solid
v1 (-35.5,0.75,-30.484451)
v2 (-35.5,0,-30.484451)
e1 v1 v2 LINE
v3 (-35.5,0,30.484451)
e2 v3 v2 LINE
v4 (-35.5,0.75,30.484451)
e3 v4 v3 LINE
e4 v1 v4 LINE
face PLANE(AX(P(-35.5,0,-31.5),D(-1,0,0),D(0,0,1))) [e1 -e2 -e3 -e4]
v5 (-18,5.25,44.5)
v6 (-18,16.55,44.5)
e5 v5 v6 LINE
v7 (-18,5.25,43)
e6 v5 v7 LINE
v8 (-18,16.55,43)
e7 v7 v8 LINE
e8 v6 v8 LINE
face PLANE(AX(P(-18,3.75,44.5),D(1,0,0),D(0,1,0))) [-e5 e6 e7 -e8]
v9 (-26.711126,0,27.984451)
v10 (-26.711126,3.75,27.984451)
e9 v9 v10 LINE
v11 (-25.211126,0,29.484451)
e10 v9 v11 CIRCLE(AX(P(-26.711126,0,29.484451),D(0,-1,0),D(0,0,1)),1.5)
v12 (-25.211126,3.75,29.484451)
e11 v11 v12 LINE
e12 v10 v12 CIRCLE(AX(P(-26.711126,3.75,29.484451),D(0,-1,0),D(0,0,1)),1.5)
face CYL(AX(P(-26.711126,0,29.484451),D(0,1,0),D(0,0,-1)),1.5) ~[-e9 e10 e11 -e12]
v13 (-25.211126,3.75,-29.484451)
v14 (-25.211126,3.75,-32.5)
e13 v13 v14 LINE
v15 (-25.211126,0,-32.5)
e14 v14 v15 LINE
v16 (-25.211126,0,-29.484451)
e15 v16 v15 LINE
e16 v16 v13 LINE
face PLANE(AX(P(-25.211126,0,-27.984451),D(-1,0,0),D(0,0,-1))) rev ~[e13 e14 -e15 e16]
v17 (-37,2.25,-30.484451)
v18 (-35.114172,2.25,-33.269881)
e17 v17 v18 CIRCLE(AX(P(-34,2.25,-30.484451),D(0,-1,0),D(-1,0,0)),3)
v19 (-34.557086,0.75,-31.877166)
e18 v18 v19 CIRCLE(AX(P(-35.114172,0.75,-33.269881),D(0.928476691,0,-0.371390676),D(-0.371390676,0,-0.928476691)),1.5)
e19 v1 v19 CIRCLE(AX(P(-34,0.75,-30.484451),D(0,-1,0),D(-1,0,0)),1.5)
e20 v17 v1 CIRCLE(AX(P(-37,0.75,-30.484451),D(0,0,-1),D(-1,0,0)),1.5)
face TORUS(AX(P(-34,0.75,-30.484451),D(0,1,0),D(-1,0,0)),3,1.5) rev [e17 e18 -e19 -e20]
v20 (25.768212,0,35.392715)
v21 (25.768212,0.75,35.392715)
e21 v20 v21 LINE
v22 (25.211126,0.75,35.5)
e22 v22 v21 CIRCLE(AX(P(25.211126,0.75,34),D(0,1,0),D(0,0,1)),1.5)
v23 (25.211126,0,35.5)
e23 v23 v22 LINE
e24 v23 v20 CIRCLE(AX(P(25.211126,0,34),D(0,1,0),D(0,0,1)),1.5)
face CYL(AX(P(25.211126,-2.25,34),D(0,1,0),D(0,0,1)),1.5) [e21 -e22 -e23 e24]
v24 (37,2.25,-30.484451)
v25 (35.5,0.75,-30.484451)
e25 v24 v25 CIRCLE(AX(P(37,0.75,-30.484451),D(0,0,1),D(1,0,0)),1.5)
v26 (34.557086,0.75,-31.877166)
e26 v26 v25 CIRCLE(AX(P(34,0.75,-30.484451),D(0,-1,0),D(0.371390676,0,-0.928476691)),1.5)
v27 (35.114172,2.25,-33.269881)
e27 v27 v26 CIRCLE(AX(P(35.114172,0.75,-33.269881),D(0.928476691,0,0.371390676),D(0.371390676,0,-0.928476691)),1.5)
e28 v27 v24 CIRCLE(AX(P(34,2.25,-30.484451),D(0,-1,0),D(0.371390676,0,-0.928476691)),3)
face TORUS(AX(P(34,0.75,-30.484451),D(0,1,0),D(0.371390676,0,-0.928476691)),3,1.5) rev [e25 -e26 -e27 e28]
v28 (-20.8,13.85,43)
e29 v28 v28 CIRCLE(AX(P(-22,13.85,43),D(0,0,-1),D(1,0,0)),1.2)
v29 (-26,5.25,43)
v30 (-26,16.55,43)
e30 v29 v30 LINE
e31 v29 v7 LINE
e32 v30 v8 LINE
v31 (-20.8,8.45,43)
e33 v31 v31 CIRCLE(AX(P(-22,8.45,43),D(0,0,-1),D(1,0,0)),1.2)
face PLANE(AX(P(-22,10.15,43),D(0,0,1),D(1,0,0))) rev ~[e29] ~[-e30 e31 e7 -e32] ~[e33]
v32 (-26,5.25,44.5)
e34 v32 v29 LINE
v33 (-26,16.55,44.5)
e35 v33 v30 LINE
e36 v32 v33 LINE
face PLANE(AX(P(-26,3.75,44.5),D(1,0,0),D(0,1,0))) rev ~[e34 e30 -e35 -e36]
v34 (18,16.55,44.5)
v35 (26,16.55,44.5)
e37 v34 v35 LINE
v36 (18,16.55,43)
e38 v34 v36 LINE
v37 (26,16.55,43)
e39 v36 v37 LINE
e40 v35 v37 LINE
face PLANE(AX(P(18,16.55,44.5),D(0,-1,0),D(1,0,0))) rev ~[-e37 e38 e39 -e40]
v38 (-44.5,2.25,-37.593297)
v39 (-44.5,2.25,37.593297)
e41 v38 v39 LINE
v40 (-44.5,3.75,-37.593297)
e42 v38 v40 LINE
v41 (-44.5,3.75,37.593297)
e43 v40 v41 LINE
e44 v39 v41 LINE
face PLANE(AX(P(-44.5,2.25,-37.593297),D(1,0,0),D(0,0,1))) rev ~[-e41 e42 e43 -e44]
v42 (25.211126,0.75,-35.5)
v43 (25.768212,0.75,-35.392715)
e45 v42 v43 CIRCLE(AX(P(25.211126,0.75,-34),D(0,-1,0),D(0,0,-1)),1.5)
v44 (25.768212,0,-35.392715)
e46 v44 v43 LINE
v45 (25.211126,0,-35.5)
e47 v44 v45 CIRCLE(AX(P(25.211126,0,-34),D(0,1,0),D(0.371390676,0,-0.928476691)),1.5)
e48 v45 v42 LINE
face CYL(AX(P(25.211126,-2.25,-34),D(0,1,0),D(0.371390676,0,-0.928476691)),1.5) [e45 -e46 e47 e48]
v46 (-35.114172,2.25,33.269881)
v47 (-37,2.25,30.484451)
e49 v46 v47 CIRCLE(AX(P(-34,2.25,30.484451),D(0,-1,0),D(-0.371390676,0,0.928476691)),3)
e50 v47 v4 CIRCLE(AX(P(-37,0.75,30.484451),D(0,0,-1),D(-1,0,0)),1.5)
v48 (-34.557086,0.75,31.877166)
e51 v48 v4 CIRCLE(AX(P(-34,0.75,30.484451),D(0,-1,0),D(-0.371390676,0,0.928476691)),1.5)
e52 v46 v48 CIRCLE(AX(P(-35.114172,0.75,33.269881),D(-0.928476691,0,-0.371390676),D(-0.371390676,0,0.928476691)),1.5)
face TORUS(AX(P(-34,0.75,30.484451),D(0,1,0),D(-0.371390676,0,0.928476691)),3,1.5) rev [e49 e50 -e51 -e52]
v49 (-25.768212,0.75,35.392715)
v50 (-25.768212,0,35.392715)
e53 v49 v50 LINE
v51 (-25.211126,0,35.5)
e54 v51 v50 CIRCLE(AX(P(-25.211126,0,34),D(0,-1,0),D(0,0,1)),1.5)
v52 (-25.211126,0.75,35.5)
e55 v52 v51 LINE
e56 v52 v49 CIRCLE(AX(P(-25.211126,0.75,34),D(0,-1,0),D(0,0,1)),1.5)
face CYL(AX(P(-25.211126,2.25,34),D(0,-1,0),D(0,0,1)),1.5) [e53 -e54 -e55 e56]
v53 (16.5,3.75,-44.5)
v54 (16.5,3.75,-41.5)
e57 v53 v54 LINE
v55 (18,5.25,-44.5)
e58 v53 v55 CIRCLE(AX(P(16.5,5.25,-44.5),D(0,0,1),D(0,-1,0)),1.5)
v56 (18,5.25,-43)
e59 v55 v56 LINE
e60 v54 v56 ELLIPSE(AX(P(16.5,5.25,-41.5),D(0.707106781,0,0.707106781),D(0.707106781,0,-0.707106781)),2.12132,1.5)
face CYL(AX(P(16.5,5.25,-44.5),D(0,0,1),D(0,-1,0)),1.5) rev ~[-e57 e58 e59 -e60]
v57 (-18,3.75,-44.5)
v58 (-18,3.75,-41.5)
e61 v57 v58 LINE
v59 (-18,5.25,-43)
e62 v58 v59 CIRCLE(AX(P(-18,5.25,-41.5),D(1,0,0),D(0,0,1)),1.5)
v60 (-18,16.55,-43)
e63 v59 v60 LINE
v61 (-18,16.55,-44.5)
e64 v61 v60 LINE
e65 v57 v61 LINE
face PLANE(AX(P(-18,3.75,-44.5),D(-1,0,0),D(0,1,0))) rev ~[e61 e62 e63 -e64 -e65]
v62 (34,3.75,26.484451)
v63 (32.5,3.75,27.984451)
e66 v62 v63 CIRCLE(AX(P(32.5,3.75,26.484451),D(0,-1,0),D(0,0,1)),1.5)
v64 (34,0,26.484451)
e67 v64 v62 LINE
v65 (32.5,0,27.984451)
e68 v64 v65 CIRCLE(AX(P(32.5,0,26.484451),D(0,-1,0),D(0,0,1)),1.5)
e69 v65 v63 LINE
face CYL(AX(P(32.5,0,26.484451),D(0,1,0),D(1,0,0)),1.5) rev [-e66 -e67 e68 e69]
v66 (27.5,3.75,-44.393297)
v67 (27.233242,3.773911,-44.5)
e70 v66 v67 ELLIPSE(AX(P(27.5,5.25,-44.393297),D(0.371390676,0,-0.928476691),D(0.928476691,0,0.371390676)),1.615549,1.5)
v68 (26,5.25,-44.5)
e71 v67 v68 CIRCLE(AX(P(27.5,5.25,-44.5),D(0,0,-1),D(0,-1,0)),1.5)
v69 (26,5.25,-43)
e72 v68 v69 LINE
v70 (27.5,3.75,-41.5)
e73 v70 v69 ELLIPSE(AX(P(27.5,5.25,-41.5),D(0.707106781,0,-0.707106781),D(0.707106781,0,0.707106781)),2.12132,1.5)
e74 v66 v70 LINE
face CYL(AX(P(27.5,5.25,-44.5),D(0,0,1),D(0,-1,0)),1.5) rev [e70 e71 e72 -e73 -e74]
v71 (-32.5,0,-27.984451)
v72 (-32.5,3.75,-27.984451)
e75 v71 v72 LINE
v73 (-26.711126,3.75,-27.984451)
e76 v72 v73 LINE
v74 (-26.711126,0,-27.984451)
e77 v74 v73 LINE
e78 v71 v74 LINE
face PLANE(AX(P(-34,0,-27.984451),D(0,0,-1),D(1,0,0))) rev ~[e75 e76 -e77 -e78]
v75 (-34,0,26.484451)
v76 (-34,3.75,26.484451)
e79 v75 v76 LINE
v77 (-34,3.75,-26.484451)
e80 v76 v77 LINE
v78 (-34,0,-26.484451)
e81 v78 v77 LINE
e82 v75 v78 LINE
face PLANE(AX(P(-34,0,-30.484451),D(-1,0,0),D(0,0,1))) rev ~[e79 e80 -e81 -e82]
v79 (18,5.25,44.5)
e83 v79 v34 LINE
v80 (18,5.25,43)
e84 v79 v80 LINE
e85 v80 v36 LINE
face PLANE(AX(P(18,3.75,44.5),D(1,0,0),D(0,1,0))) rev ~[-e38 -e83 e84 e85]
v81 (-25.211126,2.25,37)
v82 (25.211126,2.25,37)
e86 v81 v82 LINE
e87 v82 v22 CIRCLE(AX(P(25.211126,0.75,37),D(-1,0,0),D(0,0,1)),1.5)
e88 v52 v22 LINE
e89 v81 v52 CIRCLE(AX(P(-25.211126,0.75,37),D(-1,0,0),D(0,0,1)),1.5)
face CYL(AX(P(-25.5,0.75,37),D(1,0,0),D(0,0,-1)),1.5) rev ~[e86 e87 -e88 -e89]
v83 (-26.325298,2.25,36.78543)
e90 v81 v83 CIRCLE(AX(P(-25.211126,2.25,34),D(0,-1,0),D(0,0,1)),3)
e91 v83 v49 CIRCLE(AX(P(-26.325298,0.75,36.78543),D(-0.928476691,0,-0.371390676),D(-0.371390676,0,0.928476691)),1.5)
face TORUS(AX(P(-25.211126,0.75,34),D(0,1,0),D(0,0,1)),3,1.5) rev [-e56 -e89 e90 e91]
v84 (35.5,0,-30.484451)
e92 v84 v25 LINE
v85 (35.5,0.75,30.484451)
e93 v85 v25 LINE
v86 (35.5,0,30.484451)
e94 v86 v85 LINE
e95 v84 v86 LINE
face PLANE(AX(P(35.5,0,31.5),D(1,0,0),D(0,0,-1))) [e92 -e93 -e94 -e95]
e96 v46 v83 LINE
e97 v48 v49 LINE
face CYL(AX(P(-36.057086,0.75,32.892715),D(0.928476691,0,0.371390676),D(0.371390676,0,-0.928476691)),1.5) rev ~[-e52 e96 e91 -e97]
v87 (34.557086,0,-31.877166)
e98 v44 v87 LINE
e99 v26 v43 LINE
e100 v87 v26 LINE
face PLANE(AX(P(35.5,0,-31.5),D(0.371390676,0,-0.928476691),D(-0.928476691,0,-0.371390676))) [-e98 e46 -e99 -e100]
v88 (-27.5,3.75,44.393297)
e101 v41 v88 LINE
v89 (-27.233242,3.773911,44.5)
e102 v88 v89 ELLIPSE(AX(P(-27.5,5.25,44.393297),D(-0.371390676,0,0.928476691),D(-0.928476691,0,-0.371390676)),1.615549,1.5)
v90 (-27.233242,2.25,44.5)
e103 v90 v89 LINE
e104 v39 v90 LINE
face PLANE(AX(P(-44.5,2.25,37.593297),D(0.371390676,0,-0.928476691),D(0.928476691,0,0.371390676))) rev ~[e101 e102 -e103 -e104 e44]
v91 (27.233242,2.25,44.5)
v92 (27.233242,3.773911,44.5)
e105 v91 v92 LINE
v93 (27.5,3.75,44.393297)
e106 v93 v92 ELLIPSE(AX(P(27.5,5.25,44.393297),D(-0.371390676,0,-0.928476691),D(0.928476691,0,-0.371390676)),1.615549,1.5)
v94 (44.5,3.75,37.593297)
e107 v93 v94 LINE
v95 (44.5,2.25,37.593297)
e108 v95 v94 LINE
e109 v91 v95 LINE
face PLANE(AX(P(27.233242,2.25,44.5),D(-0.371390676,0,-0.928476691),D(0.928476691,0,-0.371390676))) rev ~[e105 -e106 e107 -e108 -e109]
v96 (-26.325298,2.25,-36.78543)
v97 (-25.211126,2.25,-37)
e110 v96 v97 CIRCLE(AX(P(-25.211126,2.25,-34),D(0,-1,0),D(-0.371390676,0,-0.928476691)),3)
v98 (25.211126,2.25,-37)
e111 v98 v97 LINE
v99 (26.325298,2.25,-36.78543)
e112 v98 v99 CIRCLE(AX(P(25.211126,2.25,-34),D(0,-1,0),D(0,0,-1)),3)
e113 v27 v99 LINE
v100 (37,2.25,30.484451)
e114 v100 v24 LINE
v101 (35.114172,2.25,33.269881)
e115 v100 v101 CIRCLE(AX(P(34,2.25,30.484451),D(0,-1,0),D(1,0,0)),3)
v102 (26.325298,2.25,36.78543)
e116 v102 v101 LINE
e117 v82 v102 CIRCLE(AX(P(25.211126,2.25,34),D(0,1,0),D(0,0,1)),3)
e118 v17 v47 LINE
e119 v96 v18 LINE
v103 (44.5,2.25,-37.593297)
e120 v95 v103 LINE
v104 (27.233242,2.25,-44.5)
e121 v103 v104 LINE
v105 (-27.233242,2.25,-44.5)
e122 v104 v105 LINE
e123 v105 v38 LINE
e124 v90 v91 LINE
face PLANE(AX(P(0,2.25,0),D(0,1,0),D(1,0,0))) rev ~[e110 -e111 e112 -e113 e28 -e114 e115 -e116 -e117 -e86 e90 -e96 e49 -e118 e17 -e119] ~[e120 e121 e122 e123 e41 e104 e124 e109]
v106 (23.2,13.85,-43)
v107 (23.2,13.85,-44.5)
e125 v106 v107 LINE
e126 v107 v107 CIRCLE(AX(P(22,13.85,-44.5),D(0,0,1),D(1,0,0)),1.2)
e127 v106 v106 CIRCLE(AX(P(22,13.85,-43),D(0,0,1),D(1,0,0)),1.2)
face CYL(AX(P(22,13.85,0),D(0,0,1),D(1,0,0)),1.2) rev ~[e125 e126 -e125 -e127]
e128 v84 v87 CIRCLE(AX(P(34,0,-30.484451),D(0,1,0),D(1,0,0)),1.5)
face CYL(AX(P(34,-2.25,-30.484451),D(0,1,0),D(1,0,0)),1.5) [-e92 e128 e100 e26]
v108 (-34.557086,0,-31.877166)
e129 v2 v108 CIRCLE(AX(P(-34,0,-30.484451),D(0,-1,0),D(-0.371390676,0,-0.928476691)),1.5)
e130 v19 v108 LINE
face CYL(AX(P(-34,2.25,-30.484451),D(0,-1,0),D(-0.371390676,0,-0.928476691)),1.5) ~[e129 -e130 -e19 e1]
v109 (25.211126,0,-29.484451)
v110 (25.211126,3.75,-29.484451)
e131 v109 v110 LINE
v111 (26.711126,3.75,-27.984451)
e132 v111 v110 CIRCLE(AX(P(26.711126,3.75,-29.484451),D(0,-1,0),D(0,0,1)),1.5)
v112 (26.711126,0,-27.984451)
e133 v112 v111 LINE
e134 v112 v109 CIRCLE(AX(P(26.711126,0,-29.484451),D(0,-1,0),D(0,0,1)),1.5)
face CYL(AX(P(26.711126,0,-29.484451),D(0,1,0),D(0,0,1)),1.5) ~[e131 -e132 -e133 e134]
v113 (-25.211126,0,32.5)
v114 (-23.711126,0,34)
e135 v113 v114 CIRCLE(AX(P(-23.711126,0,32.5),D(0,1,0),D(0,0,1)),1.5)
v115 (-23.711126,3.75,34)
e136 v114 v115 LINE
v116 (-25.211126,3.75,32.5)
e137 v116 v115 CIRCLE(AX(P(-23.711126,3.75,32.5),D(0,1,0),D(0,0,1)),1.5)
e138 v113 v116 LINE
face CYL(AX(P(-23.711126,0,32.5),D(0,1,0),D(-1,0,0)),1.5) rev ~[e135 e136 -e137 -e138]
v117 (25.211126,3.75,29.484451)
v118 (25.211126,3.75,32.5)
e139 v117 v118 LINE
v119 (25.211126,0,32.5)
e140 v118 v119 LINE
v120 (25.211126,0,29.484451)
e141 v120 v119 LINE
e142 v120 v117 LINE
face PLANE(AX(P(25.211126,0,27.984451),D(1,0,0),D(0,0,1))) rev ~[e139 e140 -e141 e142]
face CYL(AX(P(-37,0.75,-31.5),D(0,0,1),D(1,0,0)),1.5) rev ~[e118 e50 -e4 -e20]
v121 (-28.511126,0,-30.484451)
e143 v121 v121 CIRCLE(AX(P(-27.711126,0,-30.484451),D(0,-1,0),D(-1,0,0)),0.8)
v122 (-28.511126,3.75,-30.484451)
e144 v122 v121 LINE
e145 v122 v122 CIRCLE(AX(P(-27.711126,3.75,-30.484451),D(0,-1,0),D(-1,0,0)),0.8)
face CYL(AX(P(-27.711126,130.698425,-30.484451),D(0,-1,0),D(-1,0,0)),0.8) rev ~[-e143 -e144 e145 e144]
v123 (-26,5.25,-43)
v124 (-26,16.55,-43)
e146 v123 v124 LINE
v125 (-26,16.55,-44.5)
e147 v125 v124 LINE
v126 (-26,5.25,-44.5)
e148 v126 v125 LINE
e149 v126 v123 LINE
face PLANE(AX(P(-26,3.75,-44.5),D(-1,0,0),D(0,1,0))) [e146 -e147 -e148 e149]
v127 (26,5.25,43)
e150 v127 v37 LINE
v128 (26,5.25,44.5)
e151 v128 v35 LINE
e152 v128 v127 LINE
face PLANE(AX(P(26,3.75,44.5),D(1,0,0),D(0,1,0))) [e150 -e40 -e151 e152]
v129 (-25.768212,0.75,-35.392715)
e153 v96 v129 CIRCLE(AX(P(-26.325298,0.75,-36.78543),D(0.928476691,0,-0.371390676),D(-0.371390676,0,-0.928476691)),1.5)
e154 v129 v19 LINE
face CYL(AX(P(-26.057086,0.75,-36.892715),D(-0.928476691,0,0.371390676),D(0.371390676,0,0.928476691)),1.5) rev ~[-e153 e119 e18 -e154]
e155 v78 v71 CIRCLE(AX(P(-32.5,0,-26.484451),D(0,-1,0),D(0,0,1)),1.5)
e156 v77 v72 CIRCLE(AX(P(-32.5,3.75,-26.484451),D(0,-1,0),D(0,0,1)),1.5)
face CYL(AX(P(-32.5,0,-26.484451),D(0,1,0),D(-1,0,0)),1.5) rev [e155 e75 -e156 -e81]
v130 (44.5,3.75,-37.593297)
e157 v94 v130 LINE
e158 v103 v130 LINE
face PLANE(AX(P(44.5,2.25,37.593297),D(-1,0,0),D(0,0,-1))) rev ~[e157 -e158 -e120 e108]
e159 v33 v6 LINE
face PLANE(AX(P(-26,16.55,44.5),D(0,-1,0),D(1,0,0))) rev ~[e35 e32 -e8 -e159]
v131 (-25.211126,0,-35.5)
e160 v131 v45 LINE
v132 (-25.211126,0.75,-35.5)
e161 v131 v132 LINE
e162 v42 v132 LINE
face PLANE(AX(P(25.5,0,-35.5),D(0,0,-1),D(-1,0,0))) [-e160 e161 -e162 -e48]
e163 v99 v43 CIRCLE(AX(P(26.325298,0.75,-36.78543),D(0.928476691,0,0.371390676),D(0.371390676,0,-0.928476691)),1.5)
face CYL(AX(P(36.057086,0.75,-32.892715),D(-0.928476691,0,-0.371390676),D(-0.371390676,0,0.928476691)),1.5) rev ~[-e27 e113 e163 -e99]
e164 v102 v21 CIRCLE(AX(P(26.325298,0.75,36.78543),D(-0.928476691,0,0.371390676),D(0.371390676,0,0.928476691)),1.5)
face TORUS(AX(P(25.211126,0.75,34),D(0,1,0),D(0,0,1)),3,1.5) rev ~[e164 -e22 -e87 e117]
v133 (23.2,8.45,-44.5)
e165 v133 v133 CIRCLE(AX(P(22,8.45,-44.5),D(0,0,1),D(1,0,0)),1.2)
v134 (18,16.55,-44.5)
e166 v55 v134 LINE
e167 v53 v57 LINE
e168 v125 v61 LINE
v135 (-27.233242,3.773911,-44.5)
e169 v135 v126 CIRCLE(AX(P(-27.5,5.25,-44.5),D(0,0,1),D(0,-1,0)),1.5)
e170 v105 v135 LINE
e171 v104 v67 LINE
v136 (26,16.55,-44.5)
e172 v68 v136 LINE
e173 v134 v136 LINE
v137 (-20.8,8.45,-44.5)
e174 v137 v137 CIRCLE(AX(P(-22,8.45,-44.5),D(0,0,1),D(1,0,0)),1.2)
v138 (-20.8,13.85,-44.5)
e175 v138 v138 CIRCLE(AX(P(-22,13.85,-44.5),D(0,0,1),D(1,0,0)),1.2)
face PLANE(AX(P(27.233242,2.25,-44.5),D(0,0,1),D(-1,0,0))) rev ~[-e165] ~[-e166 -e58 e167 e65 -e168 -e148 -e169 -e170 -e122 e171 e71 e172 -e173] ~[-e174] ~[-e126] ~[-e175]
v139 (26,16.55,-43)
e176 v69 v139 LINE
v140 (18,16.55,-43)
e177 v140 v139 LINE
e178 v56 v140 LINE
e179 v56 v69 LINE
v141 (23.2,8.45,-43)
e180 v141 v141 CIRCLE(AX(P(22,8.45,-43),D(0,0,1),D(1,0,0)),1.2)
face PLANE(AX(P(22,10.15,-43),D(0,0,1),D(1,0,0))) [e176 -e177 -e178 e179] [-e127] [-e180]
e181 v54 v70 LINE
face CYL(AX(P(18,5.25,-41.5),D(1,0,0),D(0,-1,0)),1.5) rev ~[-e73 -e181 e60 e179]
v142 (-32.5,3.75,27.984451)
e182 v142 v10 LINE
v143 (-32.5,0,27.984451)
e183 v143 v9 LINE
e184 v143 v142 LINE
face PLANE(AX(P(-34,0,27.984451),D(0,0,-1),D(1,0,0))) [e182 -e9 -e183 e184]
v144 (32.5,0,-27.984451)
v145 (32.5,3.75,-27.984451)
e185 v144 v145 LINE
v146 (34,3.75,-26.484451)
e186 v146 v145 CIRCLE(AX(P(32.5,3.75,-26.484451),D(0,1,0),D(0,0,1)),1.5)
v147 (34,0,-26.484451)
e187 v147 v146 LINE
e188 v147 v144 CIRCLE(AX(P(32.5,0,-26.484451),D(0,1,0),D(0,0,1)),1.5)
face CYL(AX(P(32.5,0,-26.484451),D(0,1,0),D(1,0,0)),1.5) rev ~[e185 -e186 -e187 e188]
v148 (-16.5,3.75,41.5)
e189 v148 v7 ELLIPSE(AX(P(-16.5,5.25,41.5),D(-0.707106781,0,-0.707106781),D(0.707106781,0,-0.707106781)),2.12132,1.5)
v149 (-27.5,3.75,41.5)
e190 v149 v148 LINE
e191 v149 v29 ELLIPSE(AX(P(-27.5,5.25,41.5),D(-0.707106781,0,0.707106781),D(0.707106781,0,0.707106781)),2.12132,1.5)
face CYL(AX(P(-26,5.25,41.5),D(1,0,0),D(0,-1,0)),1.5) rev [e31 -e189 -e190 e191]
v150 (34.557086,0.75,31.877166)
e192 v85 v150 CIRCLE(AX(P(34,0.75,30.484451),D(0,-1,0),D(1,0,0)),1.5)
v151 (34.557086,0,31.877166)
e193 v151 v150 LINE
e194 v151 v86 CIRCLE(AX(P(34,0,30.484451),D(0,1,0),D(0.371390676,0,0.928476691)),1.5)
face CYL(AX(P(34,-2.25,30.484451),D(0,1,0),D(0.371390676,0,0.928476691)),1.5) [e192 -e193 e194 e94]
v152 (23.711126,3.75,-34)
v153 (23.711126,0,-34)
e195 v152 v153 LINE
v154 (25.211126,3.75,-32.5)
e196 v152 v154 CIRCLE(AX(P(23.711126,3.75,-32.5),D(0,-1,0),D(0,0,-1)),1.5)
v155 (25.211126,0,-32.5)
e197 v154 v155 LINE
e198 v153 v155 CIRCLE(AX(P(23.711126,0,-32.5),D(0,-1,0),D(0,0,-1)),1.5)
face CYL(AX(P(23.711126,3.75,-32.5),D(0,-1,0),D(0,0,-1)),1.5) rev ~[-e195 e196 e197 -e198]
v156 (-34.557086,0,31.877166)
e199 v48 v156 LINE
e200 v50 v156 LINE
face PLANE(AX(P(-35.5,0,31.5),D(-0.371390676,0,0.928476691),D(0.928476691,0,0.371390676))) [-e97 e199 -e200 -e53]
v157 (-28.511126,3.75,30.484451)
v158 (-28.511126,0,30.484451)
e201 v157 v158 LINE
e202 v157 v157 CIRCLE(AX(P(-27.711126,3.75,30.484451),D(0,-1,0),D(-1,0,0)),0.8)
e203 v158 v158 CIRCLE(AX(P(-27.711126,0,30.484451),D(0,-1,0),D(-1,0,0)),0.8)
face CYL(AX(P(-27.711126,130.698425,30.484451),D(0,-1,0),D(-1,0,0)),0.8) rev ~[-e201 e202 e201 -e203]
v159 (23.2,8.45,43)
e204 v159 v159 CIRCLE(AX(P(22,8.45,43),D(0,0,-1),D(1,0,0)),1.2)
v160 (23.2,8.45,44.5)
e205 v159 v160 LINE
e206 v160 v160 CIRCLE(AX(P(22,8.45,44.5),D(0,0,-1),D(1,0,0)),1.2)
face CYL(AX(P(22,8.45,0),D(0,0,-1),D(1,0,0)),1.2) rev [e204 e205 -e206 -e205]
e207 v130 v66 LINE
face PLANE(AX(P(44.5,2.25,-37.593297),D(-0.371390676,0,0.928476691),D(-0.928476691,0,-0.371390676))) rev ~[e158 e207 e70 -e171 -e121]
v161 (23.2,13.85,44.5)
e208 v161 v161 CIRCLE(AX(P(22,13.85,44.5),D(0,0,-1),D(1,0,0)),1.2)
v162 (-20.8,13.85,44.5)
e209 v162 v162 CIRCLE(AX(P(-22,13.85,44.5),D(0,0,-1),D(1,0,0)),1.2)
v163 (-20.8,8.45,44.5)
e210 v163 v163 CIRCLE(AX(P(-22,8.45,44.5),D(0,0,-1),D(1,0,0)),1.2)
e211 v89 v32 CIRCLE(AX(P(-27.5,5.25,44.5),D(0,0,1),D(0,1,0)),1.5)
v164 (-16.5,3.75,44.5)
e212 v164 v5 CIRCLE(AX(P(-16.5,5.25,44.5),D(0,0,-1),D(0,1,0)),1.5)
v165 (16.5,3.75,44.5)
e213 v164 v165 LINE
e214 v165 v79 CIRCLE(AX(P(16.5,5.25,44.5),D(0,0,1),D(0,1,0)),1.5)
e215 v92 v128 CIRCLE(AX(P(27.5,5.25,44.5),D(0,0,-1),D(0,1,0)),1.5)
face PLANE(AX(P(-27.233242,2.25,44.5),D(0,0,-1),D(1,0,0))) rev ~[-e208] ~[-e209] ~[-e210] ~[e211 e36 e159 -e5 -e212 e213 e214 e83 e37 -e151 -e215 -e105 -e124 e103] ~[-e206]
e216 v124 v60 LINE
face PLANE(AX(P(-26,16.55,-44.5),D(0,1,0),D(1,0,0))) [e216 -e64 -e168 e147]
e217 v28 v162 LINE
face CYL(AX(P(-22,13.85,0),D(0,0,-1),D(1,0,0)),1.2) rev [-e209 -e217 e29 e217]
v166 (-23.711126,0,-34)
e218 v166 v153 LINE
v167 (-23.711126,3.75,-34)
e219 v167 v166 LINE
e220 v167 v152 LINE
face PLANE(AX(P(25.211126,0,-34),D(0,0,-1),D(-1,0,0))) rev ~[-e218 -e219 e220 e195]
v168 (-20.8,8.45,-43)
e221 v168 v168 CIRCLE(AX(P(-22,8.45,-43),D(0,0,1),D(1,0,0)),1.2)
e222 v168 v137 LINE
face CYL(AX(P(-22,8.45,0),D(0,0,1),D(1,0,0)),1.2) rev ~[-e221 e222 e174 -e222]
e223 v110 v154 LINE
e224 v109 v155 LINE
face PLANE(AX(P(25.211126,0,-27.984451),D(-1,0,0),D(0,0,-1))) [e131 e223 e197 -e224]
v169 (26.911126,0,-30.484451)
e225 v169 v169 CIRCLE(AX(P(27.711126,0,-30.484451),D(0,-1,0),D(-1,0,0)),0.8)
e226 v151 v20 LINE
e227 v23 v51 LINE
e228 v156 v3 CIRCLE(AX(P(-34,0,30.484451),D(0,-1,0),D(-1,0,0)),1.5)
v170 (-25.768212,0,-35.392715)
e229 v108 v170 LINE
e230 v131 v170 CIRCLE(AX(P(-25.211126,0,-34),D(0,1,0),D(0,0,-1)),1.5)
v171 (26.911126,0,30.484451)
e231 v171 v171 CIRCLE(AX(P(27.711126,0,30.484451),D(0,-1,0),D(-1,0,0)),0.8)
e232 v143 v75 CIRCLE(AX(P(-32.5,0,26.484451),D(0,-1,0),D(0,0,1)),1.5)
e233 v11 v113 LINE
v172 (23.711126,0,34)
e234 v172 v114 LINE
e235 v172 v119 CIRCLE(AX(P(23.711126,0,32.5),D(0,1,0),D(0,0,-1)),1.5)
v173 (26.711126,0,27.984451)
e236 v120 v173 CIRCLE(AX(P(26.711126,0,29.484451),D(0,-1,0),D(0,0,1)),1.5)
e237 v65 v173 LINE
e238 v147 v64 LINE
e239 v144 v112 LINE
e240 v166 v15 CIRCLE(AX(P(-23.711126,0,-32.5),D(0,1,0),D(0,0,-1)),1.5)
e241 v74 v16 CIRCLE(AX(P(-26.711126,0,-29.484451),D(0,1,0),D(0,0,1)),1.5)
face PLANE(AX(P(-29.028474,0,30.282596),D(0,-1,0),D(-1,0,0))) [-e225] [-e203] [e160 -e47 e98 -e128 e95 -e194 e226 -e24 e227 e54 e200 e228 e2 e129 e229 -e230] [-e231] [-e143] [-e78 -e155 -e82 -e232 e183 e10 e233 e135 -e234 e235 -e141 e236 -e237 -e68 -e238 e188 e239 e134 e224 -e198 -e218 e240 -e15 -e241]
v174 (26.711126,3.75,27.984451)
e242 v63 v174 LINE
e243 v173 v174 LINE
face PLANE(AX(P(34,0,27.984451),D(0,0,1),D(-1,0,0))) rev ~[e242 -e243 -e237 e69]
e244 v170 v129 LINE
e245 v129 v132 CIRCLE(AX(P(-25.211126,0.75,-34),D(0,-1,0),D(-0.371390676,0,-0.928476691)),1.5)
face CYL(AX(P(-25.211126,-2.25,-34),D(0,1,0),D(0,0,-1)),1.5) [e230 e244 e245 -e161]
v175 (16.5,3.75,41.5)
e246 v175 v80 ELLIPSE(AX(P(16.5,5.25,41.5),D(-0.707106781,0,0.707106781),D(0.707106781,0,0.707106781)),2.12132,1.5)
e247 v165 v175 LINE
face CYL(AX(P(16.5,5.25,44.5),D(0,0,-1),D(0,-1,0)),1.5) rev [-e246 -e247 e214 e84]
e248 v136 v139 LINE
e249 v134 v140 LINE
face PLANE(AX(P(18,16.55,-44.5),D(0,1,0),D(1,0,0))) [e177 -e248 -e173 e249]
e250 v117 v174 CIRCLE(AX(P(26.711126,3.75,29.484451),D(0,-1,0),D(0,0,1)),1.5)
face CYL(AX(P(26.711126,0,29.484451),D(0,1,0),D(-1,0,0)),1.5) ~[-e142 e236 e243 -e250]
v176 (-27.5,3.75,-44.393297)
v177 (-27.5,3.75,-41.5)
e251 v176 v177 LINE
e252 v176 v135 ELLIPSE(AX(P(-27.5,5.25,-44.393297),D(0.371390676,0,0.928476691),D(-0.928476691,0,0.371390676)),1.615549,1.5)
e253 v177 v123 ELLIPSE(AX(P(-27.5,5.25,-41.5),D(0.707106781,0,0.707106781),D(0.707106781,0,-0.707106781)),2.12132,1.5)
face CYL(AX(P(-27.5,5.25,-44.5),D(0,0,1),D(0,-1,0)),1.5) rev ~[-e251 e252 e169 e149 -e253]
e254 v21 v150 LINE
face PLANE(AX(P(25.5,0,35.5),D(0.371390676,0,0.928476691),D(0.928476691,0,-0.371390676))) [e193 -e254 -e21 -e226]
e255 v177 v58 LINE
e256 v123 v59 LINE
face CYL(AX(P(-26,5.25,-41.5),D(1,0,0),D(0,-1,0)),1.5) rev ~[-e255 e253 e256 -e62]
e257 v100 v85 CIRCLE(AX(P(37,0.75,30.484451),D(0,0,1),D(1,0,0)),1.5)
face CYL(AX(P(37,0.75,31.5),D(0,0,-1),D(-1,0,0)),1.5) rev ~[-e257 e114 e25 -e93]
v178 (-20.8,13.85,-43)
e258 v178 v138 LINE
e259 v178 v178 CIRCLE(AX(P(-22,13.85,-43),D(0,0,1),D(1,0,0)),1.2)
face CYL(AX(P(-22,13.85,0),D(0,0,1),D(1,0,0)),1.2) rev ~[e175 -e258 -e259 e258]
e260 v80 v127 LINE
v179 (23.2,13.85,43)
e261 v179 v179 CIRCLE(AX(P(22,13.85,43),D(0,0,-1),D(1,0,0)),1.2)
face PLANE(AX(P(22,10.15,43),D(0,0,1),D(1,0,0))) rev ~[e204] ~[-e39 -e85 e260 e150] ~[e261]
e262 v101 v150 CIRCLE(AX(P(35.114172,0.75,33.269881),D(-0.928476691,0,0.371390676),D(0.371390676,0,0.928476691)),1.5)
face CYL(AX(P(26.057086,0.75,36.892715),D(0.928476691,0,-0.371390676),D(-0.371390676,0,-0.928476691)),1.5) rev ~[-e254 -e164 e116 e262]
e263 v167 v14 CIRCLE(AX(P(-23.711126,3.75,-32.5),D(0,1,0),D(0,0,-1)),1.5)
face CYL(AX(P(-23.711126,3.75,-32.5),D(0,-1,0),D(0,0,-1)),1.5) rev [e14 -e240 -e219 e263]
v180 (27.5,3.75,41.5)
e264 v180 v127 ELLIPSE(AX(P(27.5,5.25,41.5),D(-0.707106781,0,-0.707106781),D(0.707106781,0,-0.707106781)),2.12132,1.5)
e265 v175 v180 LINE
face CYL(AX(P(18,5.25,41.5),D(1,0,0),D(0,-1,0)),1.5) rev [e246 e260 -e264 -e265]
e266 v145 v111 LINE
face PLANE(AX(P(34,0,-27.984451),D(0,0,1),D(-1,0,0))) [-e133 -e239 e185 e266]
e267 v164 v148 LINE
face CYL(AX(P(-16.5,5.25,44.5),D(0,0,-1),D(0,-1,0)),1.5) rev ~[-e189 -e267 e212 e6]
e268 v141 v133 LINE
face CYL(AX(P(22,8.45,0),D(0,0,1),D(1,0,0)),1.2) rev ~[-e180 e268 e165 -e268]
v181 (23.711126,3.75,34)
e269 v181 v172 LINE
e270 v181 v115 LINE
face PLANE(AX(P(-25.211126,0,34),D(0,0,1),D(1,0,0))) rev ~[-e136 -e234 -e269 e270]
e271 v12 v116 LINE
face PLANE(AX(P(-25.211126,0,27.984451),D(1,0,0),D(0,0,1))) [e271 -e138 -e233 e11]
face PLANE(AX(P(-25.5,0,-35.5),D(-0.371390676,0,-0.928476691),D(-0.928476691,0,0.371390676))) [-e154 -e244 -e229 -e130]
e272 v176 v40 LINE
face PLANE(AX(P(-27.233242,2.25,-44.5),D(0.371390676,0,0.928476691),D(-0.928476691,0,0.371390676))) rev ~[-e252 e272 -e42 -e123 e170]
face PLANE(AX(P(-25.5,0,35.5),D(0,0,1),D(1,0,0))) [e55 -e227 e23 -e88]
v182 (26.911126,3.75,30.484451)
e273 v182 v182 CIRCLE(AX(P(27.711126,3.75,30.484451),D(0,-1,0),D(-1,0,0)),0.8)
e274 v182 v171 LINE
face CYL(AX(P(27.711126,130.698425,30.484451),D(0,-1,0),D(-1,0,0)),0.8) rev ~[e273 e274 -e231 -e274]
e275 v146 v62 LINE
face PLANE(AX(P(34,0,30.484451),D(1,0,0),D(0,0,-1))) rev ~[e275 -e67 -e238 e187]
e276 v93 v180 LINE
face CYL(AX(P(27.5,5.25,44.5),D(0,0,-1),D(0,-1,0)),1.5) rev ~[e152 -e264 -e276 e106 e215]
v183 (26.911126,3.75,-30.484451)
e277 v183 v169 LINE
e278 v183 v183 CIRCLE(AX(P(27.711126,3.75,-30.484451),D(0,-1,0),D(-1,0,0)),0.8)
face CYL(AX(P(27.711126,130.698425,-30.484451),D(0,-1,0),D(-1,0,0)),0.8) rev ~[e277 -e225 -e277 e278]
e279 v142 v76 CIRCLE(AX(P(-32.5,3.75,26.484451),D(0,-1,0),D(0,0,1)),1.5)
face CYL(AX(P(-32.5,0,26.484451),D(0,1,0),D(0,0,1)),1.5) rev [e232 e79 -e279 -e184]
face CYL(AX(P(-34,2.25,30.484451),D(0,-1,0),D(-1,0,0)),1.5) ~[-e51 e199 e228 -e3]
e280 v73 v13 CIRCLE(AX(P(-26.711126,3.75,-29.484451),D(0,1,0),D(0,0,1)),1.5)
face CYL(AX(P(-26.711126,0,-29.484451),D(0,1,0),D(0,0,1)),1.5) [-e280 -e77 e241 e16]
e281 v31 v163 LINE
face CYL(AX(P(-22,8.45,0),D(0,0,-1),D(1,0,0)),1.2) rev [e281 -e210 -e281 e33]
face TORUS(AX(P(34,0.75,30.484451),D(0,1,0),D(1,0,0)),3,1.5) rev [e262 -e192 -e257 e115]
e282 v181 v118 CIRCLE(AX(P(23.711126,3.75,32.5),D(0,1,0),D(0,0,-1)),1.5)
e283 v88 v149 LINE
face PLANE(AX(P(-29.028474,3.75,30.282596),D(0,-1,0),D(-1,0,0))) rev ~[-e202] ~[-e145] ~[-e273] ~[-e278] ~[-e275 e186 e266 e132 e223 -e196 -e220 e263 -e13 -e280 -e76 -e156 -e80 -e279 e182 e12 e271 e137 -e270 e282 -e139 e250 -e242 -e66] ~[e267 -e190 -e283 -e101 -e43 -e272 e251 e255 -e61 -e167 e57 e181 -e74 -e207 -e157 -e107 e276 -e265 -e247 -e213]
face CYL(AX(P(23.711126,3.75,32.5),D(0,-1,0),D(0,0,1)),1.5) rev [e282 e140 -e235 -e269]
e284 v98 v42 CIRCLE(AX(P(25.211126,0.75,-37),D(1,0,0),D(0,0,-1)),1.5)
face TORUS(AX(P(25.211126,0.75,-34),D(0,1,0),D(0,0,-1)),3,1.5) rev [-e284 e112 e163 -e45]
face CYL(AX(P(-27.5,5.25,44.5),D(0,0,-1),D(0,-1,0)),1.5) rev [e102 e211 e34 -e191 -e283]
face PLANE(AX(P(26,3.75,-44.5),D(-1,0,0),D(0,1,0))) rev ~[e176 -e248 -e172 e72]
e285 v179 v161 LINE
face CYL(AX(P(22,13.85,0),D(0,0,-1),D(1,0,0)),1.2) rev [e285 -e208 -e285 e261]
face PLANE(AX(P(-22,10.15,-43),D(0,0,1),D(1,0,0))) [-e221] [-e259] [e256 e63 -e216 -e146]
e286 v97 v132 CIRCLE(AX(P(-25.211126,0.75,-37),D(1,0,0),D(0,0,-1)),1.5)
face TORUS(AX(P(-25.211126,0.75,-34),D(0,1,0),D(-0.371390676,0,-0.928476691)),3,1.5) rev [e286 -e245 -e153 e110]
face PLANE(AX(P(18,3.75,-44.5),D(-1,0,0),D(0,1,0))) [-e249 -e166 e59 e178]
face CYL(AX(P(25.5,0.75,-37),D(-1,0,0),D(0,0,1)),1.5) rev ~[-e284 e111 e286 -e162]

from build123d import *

# Parameters (mm, degrees)
BOSS_EXTRUDE1_DEPTH     = 2.25
BOSS_EXTRUDE2_DEPTH     = 1.5
CUT_EXTRUDE1_DEPTH      = 4.75
CUT_EXTRUDE1_DEPTH_BACK = 4.75
BOSS_EXTRUDE3_START     = 44.5
SKETCH5_W               = 8
SKETCH5_H               = 12.8
BOSS_EXTRUDE3_DEPTH     = 1.5
BOSS_EXTRUDE4_START     = -44.5
SKETCH5_2_W             = 8
SKETCH5_2_H             = 12.8
BOSS_EXTRUDE4_DEPTH     = 1.5
SKETCH6_R               = 1.2
CUT_EXTRUDE3_DEPTH      = 45.5
CUT_EXTRUDE3_DEPTH_BACK = 45.5
FILLET1_R               = 1.5
SKETCH7_W               = 89
SKETCH7_H               = 89
CUT_EXTRUDE4_DEPTH      = 4.75
BOSS_EXTRUDE5_DEPTH     = 3.75
FILLET2_R               = 1.5
M2X0_4_TAPPED_HOLE1_D   = 1.6


with BuildPart() as part:
    # Sketch1 → Boss-Extrude1 (new body, symmetric)
    with BuildSketch(Plane(origin=(0, 0, 0), x_dir=(1, 0, 0), z_dir=(0, 1, 0))):
        Polygon((-25.5, -35.5), (25.5, -35.5), (35.5, -31.5), (35.5, 31.5), (25.5, 35.5), (-25.5, 35.5), (-35.5, 31.5), (-35.5, -31.5), align=None)
    extrude(amount=BOSS_EXTRUDE1_DEPTH, both=True)

    # Sketch2 → Boss-Extrude2 (add)
    with BuildSketch(Plane(origin=(0, 2.25, 0), x_dir=(1, 0, 0), z_dir=(0, 1, 0))):
        Polygon((27.233241632, -44.5), (44.5, -37.593296653), (44.5, 37.593296653), (27.233241632, 44.5), (-27.233241632, 44.5), (-44.5, 37.593296653), (-44.5, -37.593296653), (-27.233241632, -44.5), align=None)
    boss_extrude2 = extrude(amount=BOSS_EXTRUDE2_DEPTH)

    # Mirror1: Boss-Extrude2 across plane
    add(boss_extrude2.mirror(Plane.ZX))

    # Sketch3 → Cut-Extrude1 (cut, two sides)
    with BuildSketch(Plane(origin=(0, 0, 0), x_dir=(1, 0, 0), z_dir=(0, 1, 0))) as cut_extrude1_sk:
        Polygon((-25.211126395, -34), (25.211126395, -34), (34, -30.484450558), (34, 30.484450558), (25.211126395, 34), (-25.211126395, 34), (-34, 30.484450558), (-34, -30.484450558), align=None)
    extrude(amount=CUT_EXTRUDE1_DEPTH, mode=Mode.SUBTRACT)
    extrude(cut_extrude1_sk.sketch, amount=-CUT_EXTRUDE1_DEPTH_BACK, mode=Mode.SUBTRACT)

    # Sketch5 → Boss-Extrude3 (add)
    with BuildSketch(Plane.XY.offset(BOSS_EXTRUDE3_START)):
        with Locations((-22, 10.15)):
            Rectangle(SKETCH5_W, SKETCH5_H)
        with Locations((22, 10.15)):
            Rectangle(SKETCH5_W, SKETCH5_H)
    extrude(amount=-BOSS_EXTRUDE3_DEPTH)

    # Sketch5<2> → Boss-Extrude4 (add)
    with BuildSketch(Plane.XY.offset(BOSS_EXTRUDE4_START)):
        with Locations((-22, 10.15)):
            Rectangle(SKETCH5_2_W, SKETCH5_2_H)
        with Locations((22, 10.15)):
            Rectangle(SKETCH5_2_W, SKETCH5_2_H)
    extrude(amount=BOSS_EXTRUDE4_DEPTH)

    # Sketch6 → Cut-Extrude3 (cut, two sides)
    with BuildSketch(Plane.XY) as cut_extrude3_sk:
        with Locations((-22, 13.85)):
            Circle(SKETCH6_R)
        with Locations((22, 13.85)):
            Circle(SKETCH6_R)
        with Locations((-22, 8.45)):
            Circle(SKETCH6_R)
        with Locations((22, 8.45)):
            Circle(SKETCH6_R)
    extrude(amount=CUT_EXTRUDE3_DEPTH, mode=Mode.SUBTRACT)
    extrude(cut_extrude3_sk.sketch, amount=-CUT_EXTRUDE3_DEPTH_BACK, mode=Mode.SUBTRACT)

    # Fillet1
    fillet1_edges = [part.edges().sort_by_distance(p)[0] for p in [
        (35.5, 0, 31.5),
        (25.5, 0, 35.5),
        (0, 2.25, -35.5),
        (0, -2.25, -35.5),
        (35.5, 2.25, 0),
        (35.5, -2.25, 0),
        (-35.5, 2.25, 0),
        (-35.5, -2.25, 0),
        (0, 2.25, 35.5),
        (0, -2.25, 35.5),
        (-25.5, 0, -35.5),
        (-30.5, 2.25, -33.5),
        (-35.5, 0, -31.5),
        (-30.5, -2.25, -33.5),
        (35.5, 0, -31.5),
        (30.5, 2.25, -33.5),
        (25.5, 0, -35.5),
        (30.5, -2.25, -33.5),
        (30.5, 2.25, 33.5),
        (30.5, -2.25, 33.5),
        (-35.5, 0, 31.5),
        (-30.5, 2.25, 33.5),
        (-25.5, 0, 35.5),
        (-30.5, -2.25, 33.5),
        (-22, 3.75, -43),
        (22, 3.75, -43),
        (-22, 3.75, 43),
        (22, 3.75, 43),
        (26, 3.75, 43.75),
        (-18, 3.75, 43.75),
        (18, 3.75, 43.75),
        (-26, 3.75, 43.75),
        (18, 3.75, -43.75),
        (26, 3.75, -43.75),
        (-26, 3.75, -43.75),
    ]]
    fillet(fillet1_edges, radius=FILLET1_R)

    # Sketch7 → Cut-Extrude4 (cut, through all)
    with BuildSketch(Plane(origin=(0, 0, 0), x_dir=(1, 0, 0), z_dir=(0, 1, 0))):
        Rectangle(SKETCH7_W, SKETCH7_H)
    extrude(amount=-CUT_EXTRUDE4_DEPTH, mode=Mode.SUBTRACT)

    # Sketch8 → Boss-Extrude5 (add)
    with BuildSketch(Plane(origin=(0, 0, 0), x_dir=(1, 0, 0), z_dir=(0, 1, 0))):
        Polygon((-25.211126395, -34), (-34, -30.484450558), (-34, -27.984450558), (-25.211126395, -27.984450558), align=None)
        Polygon((25.211126395, -27.984450558), (25.211126395, -34), (34, -30.484450558), (34, -27.984450558), align=None)
        Polygon((25.211126395, 34), (34, 30.484450558), (34, 27.984450558), (25.211126395, 27.984450558), align=None)
        Polygon((-25.211126395, 27.984450558), (-25.211126395, 34), (-34, 30.484450558), (-34, 27.984450558), align=None)
    extrude(amount=BOSS_EXTRUDE5_DEPTH)

    # Fillet2
    fillet2_edges = [part.edges().sort_by_distance(p)[0] for p in [
        (25.211126395, 1.875, 34),
        (-25.211126395, 1.875, 34),
        (25.211126395, 1.875, -34),
        (-25.211126395, 1.875, -34),
        (-25.211126395, 1.875, 27.984450558),
        (-34, 1.875, 27.984450558),
        (34, 1.875, 27.984450558),
        (25.211126395, 1.875, 27.984450558),
        (34, 1.875, -27.984450558),
        (25.211126395, 1.875, -27.984450558),
        (-34, 1.875, -27.984450558),
        (-25.211126395, 1.875, -27.984450558),
    ]]
    fillet(fillet2_edges, radius=FILLET2_R)

    # M2x0.4 Tapped Hole1 (through all)
    with Locations(Plane(origin=(0, 3.75, 0), x_dir=(1, 0, 0), z_dir=(0, 1, 0))):
        with Locations((-27.711126395, 30.484450558), (27.711126395, 30.484450558), (27.711126395, -30.484450558), (-27.711126395, -30.484450558)):
            Hole(M2X0_4_TAPPED_HOLE1_D / 2)


solid = part.part
